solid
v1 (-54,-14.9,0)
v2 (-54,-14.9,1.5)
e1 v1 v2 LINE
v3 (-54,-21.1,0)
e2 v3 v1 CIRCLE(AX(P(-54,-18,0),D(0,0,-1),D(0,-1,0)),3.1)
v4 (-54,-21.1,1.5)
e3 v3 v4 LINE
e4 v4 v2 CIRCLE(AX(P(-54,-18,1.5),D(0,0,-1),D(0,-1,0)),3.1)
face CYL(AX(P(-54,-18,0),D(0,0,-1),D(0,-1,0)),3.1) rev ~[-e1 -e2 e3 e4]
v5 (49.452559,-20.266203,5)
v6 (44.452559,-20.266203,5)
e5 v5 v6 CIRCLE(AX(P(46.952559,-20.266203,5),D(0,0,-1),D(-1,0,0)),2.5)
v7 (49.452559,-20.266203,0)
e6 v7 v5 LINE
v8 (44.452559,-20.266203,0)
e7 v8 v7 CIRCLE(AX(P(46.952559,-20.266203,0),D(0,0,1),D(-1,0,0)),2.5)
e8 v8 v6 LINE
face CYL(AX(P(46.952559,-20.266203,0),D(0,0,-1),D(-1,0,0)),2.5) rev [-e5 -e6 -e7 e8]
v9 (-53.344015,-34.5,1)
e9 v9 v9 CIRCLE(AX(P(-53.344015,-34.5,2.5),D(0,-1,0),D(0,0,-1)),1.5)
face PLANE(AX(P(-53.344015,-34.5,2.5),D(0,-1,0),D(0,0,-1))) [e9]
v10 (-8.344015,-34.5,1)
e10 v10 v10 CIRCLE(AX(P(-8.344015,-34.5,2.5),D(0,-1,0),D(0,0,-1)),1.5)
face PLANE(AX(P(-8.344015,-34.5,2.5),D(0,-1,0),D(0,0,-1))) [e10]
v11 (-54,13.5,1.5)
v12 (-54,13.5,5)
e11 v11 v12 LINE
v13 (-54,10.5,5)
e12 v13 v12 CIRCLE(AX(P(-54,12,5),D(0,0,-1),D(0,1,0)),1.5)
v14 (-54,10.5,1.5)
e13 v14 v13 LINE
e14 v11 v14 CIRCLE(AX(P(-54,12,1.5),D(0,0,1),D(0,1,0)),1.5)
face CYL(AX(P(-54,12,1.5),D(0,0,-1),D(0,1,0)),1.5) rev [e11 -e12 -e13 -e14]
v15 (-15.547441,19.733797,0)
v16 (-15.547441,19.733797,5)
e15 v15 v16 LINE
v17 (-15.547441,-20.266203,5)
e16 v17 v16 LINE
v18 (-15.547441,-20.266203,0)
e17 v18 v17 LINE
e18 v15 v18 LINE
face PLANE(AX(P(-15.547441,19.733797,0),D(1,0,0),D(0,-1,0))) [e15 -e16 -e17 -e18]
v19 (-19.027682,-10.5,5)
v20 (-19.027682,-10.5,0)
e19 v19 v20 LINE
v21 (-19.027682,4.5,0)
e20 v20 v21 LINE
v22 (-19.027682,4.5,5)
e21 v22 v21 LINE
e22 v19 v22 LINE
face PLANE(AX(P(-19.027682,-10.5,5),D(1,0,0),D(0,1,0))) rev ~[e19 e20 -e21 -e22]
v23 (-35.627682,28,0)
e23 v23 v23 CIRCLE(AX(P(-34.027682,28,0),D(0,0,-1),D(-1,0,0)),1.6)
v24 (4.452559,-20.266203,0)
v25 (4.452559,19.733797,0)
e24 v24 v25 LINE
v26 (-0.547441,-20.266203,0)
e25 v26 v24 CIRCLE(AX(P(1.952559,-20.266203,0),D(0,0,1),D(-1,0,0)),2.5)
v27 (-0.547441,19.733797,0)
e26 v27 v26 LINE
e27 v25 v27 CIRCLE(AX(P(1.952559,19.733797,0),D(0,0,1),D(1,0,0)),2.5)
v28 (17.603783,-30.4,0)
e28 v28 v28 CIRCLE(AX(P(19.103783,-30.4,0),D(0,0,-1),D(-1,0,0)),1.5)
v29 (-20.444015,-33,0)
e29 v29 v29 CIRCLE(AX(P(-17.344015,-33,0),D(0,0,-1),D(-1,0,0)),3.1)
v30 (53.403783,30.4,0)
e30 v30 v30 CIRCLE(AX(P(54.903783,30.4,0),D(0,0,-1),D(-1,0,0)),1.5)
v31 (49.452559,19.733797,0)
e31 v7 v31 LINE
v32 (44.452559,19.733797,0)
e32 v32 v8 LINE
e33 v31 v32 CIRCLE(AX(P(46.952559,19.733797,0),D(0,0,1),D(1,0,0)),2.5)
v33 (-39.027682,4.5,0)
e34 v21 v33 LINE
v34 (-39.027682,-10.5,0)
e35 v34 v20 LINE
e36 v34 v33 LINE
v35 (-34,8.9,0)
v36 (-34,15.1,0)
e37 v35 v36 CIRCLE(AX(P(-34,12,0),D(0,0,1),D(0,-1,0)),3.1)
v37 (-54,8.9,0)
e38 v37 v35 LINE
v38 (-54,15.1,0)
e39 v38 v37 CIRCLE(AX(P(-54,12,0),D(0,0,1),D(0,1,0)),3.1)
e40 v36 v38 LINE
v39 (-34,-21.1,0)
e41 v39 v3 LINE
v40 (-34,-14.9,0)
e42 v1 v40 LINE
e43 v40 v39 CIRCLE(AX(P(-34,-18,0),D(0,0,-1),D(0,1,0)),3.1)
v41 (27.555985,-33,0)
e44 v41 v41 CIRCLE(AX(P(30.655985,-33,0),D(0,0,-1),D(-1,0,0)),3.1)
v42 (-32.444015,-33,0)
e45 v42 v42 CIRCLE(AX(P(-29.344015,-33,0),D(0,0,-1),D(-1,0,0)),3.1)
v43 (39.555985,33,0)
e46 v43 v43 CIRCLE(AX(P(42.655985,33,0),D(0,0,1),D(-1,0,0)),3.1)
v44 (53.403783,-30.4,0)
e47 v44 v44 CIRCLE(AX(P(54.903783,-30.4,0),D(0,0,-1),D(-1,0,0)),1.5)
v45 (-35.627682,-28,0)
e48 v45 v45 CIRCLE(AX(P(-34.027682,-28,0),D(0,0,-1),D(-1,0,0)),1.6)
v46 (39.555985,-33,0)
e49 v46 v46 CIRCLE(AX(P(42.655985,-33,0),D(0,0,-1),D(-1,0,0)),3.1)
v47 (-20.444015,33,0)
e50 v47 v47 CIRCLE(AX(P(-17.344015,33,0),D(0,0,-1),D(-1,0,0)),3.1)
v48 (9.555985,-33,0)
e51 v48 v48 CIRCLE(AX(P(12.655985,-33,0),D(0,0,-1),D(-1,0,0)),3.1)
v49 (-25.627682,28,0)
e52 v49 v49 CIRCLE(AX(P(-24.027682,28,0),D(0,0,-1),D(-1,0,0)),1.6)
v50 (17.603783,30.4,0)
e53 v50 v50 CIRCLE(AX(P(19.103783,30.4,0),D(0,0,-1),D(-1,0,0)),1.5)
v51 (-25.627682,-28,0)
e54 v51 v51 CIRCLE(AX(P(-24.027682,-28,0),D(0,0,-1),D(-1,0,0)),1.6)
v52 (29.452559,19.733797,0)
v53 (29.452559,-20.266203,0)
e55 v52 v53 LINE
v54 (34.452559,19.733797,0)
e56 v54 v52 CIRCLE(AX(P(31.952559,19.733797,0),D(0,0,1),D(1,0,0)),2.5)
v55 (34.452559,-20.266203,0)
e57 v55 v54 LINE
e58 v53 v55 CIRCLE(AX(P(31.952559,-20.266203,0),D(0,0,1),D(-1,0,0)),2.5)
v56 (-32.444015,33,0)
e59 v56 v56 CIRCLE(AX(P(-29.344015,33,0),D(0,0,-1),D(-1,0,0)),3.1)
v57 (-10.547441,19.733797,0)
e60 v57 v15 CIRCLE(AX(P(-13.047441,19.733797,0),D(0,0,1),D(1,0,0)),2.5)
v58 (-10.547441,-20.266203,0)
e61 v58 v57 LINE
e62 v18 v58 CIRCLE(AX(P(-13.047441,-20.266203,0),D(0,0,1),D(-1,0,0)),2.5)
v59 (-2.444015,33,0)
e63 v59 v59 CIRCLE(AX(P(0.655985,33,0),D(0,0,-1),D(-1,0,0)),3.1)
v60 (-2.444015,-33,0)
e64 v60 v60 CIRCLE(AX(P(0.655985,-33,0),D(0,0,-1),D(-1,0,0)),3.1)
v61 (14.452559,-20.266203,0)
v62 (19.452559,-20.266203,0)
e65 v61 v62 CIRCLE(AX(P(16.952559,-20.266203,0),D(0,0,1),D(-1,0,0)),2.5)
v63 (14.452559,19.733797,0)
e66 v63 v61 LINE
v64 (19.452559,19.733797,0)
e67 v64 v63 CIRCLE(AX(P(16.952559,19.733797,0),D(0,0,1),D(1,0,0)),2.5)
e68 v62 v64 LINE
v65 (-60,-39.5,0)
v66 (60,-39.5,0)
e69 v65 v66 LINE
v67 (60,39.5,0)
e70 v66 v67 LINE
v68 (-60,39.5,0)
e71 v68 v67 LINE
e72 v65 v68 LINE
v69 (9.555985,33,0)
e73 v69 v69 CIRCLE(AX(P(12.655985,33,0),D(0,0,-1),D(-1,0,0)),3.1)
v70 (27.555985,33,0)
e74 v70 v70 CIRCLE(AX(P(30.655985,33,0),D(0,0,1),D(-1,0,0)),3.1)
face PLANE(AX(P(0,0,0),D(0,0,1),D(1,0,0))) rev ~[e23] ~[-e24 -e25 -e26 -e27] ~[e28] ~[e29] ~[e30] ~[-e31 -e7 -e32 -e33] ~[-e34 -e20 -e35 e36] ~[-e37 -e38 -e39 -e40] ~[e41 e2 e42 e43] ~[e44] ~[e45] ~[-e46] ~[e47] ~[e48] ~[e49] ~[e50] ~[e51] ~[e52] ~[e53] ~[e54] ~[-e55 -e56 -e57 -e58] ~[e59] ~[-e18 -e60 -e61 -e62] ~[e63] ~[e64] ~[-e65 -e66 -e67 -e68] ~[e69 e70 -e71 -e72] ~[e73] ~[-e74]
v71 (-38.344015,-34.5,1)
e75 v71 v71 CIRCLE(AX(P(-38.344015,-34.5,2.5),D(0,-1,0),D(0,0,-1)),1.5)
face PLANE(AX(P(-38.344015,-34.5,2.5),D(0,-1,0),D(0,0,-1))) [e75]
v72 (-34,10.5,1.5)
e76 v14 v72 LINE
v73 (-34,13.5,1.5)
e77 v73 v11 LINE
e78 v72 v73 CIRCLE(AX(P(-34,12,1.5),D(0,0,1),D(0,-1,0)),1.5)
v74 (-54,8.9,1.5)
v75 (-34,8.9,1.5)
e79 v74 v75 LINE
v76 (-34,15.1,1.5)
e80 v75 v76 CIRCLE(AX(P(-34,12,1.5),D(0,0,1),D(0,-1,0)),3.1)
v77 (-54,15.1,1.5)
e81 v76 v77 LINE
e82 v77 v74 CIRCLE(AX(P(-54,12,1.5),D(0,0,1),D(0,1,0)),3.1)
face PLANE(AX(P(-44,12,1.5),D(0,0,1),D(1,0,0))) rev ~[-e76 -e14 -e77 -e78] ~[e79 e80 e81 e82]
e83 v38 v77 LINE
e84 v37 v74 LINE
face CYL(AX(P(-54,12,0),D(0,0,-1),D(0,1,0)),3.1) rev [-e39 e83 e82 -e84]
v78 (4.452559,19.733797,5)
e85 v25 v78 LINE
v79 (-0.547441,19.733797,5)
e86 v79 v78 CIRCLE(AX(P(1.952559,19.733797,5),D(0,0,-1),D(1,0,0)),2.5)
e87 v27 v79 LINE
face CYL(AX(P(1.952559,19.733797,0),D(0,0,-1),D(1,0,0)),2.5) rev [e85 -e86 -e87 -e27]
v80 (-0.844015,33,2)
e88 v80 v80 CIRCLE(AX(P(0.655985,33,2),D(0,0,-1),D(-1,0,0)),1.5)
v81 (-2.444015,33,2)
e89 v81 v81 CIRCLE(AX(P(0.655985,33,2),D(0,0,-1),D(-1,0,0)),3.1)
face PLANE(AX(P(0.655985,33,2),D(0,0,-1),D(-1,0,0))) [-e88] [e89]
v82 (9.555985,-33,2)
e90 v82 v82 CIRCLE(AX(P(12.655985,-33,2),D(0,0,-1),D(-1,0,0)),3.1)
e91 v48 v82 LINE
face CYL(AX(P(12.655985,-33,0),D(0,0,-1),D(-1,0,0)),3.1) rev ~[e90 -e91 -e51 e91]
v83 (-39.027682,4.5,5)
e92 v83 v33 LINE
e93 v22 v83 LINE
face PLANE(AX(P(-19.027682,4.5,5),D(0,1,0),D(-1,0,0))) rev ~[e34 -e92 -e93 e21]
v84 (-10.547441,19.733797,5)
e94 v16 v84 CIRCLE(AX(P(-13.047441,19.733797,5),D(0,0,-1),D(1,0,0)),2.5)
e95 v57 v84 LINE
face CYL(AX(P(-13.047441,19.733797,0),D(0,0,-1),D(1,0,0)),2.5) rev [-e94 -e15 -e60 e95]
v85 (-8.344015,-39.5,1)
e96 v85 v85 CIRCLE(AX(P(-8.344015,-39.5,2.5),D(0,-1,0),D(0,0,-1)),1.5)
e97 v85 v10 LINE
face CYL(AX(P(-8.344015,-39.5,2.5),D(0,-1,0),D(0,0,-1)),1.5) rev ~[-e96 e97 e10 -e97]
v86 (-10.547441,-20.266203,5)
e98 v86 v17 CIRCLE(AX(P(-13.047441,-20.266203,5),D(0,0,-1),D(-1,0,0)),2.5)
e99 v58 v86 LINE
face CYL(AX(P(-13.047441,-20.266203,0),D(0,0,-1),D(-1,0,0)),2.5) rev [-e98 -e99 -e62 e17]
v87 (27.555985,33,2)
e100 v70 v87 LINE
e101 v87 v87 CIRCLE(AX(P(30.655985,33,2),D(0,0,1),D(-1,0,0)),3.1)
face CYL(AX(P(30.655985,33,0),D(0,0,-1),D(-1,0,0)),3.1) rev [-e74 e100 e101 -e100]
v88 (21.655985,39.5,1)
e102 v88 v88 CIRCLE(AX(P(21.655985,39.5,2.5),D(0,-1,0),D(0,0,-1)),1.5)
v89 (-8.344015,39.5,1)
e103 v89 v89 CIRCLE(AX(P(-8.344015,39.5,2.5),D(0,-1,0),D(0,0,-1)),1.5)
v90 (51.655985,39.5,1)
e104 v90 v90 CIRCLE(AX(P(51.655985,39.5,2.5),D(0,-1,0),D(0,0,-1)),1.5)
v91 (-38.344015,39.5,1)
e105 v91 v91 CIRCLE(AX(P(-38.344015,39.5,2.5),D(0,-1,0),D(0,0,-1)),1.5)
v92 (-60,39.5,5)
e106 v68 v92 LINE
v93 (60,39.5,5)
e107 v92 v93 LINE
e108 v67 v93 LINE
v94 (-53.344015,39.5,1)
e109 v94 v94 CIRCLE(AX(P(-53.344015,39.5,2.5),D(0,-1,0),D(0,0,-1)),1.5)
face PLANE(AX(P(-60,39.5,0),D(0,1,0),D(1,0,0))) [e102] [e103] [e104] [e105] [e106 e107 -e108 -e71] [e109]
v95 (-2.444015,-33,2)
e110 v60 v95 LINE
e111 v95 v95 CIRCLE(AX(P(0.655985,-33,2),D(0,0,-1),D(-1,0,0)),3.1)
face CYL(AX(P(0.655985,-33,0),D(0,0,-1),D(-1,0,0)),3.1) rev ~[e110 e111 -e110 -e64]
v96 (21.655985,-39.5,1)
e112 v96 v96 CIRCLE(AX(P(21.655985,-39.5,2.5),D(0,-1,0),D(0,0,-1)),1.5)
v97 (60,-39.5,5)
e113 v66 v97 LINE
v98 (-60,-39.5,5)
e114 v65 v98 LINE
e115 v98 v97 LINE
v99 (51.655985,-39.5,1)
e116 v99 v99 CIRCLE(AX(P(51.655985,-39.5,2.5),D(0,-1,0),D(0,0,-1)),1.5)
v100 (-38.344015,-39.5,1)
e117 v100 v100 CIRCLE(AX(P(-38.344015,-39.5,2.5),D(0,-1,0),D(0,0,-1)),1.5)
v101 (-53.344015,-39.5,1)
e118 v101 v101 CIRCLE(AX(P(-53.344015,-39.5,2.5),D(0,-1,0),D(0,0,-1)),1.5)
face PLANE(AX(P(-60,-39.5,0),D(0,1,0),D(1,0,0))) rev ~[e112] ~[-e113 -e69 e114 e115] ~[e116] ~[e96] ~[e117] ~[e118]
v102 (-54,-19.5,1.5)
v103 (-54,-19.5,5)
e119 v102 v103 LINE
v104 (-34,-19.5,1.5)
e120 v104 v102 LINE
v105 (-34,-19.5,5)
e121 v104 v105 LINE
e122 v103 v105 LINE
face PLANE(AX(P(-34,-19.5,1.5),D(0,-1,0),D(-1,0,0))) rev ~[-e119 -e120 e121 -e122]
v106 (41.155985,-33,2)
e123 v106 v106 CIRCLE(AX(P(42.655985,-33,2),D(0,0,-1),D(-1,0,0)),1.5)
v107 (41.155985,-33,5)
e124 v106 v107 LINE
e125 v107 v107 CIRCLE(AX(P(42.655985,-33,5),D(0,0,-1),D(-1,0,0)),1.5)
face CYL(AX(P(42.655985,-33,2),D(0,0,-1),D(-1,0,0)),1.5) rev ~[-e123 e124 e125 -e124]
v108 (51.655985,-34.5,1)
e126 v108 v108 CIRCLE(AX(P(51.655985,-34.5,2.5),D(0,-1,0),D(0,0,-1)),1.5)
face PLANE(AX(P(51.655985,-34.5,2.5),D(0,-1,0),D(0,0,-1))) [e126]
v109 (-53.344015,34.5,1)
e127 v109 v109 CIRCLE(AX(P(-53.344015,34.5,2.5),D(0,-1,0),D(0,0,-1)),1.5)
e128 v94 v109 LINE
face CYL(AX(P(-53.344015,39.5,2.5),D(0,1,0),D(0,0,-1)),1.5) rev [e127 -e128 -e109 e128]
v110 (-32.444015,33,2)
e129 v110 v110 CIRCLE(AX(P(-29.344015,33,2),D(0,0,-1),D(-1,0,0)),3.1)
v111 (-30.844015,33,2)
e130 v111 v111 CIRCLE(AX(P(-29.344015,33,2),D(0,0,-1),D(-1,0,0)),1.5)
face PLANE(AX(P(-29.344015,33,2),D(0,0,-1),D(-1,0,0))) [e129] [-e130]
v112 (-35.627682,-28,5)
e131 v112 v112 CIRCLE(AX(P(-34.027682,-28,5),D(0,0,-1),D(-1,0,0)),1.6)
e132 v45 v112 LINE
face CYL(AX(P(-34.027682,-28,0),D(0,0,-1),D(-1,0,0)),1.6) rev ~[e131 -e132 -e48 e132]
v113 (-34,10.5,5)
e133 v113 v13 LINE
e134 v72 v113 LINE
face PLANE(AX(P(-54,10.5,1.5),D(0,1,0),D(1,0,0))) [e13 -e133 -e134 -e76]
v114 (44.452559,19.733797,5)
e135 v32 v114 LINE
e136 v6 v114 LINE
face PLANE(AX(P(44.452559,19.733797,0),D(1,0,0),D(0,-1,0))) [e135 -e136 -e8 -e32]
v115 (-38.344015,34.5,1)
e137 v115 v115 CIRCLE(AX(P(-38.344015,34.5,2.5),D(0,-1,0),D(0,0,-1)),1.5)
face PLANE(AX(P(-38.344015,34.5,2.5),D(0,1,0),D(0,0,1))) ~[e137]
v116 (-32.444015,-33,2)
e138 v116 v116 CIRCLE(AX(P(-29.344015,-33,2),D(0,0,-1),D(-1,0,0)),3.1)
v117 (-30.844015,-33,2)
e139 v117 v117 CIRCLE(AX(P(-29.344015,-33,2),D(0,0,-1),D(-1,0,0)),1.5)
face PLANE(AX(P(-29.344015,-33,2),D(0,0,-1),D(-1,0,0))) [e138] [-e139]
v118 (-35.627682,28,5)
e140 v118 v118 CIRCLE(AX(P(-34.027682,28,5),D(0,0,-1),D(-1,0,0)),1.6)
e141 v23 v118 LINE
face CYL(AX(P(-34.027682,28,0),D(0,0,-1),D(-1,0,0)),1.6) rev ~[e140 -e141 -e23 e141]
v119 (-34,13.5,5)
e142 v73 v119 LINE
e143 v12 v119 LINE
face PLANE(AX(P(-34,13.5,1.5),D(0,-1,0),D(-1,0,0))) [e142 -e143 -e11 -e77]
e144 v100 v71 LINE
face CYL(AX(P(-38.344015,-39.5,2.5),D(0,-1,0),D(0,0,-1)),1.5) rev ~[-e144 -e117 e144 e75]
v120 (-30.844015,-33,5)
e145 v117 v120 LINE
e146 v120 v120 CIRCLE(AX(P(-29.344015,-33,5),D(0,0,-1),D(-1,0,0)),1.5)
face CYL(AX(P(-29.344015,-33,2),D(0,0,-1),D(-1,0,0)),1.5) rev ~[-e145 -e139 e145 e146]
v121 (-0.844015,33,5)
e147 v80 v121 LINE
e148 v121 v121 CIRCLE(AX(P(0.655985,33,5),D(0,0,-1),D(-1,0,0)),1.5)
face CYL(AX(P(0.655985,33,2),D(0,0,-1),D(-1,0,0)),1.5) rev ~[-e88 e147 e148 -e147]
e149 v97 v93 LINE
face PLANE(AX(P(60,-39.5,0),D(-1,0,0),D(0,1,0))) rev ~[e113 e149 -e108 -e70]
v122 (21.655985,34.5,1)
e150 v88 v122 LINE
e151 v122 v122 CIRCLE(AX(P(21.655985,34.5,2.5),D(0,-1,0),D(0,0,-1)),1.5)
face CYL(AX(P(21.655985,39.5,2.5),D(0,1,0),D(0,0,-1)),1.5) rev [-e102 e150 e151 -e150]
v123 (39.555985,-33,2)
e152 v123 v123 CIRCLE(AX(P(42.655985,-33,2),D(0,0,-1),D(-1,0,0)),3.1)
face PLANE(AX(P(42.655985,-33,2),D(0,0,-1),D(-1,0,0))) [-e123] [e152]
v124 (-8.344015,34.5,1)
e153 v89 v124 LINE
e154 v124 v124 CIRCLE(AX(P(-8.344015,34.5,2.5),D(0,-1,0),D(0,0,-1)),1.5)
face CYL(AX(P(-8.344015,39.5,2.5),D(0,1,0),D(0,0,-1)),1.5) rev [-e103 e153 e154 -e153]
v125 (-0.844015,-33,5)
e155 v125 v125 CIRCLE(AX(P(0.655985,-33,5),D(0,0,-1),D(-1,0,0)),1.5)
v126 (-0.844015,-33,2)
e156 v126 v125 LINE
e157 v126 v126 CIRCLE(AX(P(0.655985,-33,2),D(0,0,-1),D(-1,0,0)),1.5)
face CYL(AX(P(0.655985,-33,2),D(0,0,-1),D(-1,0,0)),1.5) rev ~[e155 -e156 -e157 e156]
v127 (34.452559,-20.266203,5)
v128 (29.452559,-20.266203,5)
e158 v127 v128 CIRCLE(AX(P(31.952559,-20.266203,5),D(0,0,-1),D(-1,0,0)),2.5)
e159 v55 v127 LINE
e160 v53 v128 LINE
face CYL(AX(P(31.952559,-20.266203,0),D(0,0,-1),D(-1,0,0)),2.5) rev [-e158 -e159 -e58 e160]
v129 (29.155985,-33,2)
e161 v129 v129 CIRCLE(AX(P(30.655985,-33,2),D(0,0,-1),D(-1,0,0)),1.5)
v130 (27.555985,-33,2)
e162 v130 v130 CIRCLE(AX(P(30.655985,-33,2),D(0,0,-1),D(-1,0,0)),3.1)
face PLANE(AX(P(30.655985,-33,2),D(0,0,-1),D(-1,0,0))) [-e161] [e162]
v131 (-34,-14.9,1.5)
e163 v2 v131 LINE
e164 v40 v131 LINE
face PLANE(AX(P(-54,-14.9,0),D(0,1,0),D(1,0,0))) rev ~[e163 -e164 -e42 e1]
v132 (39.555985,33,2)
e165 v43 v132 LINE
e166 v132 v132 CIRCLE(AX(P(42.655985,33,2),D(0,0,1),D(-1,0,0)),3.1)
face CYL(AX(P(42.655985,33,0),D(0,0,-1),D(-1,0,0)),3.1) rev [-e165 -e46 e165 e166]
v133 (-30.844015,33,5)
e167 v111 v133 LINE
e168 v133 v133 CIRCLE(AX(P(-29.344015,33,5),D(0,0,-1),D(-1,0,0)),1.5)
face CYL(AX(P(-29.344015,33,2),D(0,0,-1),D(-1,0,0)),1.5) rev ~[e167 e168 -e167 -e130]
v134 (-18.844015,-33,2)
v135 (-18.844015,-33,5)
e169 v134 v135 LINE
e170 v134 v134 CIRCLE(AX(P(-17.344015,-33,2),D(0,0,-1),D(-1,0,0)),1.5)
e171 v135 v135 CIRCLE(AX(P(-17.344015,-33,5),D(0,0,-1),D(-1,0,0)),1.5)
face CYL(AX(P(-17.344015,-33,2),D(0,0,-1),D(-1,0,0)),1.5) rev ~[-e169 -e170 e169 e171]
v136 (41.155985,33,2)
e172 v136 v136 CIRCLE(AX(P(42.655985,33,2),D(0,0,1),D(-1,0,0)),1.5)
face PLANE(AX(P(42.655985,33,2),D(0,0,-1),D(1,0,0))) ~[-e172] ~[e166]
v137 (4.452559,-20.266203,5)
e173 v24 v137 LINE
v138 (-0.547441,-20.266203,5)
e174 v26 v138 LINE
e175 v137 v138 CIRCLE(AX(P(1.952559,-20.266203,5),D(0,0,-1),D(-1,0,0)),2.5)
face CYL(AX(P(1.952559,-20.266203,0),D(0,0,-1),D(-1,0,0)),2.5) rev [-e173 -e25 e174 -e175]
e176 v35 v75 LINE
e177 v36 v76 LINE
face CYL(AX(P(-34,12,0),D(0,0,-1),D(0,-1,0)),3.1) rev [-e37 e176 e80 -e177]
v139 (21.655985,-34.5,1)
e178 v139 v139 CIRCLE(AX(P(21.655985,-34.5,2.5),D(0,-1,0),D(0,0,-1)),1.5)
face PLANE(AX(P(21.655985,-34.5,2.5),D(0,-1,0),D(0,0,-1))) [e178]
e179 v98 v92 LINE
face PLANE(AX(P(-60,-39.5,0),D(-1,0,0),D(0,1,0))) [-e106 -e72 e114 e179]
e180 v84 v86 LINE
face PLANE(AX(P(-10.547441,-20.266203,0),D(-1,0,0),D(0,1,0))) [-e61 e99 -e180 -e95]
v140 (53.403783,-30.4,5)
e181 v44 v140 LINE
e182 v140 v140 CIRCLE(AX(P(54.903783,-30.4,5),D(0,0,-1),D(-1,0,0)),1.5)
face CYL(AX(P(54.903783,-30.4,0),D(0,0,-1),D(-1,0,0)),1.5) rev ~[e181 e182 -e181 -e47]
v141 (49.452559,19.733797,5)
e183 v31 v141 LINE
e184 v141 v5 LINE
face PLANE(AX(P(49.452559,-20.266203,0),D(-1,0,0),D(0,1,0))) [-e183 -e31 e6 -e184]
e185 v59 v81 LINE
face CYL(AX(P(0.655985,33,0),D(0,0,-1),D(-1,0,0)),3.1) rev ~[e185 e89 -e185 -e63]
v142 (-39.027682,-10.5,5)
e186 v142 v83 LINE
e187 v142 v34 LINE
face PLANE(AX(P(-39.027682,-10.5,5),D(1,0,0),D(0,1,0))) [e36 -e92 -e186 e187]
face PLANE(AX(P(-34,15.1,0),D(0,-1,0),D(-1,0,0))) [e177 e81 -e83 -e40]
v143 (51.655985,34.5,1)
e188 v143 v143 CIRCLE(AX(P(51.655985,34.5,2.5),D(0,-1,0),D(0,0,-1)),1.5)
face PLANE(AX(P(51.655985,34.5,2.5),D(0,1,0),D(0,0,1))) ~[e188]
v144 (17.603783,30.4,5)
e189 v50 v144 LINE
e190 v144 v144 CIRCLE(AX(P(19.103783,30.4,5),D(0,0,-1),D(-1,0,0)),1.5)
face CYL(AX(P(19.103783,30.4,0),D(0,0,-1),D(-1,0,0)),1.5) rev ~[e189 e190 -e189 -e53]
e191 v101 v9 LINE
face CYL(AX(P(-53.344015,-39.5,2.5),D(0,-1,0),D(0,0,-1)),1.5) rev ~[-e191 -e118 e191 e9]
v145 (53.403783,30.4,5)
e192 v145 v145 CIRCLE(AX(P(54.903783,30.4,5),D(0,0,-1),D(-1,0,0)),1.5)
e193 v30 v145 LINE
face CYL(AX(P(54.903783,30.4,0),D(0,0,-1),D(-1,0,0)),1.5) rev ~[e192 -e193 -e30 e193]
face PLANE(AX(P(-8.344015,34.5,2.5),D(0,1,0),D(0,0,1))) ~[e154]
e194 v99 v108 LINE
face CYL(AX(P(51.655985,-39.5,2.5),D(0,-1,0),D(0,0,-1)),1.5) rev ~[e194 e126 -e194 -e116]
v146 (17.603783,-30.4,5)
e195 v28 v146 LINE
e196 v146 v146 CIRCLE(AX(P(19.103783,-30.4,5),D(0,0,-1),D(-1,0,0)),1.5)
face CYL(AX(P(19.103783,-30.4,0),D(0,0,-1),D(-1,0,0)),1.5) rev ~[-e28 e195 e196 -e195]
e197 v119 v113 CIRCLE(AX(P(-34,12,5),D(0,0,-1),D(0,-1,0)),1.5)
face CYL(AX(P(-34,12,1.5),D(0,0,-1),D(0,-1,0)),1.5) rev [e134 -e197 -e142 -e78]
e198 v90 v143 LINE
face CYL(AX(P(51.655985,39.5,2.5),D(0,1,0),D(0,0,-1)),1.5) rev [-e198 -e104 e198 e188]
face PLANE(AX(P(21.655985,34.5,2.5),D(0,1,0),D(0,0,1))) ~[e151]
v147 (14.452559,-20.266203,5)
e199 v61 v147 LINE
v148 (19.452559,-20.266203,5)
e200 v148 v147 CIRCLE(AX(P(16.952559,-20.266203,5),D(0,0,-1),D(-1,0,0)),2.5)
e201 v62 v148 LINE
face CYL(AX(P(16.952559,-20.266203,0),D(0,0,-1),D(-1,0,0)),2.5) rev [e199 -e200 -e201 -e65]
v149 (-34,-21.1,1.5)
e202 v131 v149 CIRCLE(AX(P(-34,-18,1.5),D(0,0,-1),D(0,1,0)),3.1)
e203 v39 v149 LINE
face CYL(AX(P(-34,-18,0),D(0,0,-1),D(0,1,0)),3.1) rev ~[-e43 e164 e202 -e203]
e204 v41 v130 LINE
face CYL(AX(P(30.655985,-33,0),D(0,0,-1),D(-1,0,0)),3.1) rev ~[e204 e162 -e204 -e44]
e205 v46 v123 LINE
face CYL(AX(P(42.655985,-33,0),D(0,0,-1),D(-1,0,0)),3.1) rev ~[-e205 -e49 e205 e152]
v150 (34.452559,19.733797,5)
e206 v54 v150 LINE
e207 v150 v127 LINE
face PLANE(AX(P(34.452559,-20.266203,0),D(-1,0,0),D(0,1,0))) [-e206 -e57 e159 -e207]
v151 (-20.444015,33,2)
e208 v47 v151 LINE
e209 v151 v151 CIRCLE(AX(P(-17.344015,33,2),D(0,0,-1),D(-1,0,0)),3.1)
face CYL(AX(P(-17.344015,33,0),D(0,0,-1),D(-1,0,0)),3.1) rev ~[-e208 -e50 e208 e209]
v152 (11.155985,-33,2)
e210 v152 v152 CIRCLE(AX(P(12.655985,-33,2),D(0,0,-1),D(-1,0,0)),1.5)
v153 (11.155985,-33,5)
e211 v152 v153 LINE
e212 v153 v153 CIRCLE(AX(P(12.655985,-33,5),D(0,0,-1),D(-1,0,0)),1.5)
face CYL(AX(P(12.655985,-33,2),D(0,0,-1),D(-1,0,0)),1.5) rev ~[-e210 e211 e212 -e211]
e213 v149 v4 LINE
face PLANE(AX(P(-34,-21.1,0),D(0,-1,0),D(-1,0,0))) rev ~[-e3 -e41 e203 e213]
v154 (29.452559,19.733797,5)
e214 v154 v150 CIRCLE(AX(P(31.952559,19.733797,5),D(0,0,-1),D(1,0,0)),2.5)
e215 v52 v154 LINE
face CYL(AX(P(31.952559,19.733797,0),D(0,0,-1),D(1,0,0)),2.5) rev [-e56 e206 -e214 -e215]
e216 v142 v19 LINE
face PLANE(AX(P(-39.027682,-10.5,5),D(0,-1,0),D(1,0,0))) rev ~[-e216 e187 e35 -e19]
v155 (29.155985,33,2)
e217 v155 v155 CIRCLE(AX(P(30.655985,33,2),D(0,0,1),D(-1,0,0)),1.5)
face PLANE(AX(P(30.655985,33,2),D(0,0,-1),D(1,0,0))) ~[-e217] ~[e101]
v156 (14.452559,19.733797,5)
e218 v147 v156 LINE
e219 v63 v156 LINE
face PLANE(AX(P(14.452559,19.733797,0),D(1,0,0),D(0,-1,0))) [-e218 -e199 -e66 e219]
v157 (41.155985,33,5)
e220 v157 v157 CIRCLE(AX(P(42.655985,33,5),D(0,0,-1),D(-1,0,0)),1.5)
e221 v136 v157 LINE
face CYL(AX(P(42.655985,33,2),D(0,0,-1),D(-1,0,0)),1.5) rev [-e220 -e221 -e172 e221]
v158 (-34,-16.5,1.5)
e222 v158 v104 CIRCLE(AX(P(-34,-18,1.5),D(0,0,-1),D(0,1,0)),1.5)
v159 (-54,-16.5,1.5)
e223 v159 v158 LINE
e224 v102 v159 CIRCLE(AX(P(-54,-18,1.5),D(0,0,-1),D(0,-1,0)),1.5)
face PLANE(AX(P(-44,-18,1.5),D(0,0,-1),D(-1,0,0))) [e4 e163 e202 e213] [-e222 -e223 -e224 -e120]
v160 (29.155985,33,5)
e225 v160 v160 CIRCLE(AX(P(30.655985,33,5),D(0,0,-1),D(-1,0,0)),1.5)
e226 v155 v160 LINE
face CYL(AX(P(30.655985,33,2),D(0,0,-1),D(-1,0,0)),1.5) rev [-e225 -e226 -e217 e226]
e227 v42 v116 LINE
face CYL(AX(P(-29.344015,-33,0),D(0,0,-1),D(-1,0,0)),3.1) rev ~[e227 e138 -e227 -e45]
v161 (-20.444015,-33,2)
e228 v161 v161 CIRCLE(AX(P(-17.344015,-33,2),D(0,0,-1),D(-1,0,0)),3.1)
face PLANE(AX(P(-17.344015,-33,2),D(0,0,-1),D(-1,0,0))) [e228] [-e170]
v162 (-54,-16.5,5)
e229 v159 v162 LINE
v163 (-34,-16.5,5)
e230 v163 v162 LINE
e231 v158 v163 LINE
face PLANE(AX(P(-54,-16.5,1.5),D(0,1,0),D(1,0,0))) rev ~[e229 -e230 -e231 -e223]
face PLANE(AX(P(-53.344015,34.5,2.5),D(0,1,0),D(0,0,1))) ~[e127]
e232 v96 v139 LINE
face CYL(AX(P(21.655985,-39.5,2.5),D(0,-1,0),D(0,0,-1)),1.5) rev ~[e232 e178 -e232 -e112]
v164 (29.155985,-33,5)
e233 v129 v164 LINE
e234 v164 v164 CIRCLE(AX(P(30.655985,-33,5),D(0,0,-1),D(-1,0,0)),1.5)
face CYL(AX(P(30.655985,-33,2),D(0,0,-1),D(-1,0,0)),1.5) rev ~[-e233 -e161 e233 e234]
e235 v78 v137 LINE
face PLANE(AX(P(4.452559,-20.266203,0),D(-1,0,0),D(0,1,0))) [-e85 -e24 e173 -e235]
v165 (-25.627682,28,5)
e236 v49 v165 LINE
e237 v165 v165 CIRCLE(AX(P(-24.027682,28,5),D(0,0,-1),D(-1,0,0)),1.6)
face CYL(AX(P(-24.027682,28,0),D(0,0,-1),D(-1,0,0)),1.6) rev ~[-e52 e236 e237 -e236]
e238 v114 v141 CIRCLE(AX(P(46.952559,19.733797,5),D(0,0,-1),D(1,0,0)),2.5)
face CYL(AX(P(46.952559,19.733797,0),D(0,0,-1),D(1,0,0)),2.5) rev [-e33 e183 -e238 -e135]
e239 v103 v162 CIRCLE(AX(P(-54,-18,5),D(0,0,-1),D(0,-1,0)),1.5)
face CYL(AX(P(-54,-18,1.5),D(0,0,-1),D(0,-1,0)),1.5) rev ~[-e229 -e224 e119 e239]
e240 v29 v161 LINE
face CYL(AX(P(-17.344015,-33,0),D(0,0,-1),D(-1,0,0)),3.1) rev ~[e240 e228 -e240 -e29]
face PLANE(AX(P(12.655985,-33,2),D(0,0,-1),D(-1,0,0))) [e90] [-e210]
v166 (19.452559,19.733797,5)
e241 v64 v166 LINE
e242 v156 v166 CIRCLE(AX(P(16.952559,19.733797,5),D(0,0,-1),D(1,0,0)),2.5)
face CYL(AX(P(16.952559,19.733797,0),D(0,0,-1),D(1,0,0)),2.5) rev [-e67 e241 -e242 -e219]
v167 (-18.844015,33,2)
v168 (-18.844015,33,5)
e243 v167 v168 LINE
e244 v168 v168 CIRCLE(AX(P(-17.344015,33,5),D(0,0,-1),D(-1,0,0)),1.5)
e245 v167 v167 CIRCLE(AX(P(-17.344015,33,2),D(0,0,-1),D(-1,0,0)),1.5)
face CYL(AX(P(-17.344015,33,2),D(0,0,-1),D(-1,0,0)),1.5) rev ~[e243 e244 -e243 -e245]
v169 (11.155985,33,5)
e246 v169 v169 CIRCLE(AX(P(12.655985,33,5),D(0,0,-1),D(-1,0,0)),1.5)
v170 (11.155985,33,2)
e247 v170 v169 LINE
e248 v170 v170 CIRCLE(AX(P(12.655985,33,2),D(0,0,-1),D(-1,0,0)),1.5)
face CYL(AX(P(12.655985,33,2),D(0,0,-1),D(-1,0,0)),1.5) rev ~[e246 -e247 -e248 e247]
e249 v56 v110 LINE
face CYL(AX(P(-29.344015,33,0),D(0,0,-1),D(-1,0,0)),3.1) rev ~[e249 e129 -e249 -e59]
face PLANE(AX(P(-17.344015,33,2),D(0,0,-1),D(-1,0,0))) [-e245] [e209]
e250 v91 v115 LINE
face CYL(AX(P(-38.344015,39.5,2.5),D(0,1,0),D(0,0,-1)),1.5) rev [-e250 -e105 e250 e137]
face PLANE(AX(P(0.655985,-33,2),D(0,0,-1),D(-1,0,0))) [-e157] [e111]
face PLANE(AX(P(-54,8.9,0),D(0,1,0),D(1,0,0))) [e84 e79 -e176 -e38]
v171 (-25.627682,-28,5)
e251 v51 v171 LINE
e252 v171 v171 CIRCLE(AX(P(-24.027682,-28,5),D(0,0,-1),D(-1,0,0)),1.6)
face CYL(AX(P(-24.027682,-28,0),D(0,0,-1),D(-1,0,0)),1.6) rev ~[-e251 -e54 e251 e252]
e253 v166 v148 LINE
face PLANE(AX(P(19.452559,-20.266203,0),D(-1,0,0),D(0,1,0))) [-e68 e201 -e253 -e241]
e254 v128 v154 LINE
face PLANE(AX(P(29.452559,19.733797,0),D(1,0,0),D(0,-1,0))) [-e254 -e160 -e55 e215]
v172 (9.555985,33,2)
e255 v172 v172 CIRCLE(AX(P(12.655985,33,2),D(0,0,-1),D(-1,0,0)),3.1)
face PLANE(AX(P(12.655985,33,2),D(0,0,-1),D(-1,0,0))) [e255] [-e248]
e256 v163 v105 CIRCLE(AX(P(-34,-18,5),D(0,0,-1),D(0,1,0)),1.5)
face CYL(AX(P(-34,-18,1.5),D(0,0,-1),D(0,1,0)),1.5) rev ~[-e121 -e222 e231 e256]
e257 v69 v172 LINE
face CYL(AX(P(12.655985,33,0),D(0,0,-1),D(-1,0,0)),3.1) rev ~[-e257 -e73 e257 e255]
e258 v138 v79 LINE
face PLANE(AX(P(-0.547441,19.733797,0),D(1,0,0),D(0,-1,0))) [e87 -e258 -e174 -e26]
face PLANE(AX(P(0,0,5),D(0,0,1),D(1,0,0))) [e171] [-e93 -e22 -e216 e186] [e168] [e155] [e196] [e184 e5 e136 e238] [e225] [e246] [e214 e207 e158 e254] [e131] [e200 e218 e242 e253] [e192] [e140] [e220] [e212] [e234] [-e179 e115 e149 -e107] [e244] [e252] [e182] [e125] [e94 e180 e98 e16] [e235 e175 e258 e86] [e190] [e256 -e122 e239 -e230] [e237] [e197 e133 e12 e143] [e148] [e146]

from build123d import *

# Parameters (mm, degrees)
SKETCH_1_W               = 120
SKETCH_1_H               = 79
EXTRUDE_1_DEPTH          = 5
SKETCH_2_R               = 3.1
CUT_EXTRUDE_1_DEPTH      = 2
SKETCH_3_R               = 1.5
CUT_EXTRUDE_2_DEPTH      = 72.897496479
PATTERN_LINEAR_1_COUNT   = 3
PATTERN_LINEAR_1_PITCH   = 30
MIRROR_2_COPY_1_SKETCH_R = 3.1
MIRROR_2_COPY_1_DEPTH    = 2
MIRROR_2_COPY_2_SKETCH_R = 3.1
MIRROR_2_COPY_2_DEPTH    = 2
MIRROR_2_COPY_3_SKETCH_R = 1.5
MIRROR_2_COPY_3_DEPTH    = 72.897496479
MIRROR_2_COPY_4_SKETCH_R = 1.5
MIRROR_2_COPY_4_DEPTH    = 72.897496479
CUT_EXTRUDE_3_DEPTH      = 1.5
CUT_EXTRUDE_4_DEPTH      = 72.920094549
SKETCH_7_R               = 1.5
CUT_EXTRUDE_6_DEPTH      = 5
SKETCH_9_R               = 1.6
SKETCH_9_R_2             = 1.5
CUT_EXTRUDE_7_DEPTH      = 73.008680032
SKETCH_11_W              = 10
SKETCH_11_H              = 15
CUT_EXTRUDE_8_DEPTH      = 73.008680032


with BuildPart() as part:
    # 草图1 → 凸台-拉伸1 (new body)
    with BuildSketch(Plane.XY):
        Rectangle(SKETCH_1_W, SKETCH_1_H)
    extrude(amount=EXTRUDE_1_DEPTH)

    # 草图2 → 切除-拉伸1 (cut)
    with BuildSketch(Plane(origin=(0, 0, 0), x_dir=(-1, 0, 0), z_dir=(0, 0, -1))):
        with Locations((-42.655984764, -33)):
            Circle(SKETCH_2_R)
        with Locations((-30.655984764, -33)):
            Circle(SKETCH_2_R)
    cut_extrude_1 = extrude(amount=-CUT_EXTRUDE_1_DEPTH, mode=Mode.SUBTRACT)

    # 草图3 → 切除-拉伸2 (cut, through all)
    with BuildSketch(Plane(origin=(0, 0, 2), x_dir=(-1, 0, 0), z_dir=(0, 0, -1))):
        with Locations((-42.655984764, -33)):
            Circle(SKETCH_3_R)
        with Locations((-30.655984764, -33)):
            Circle(SKETCH_3_R)
    cut_extrude_2 = extrude(amount=-CUT_EXTRUDE_2_DEPTH, mode=Mode.SUBTRACT)

    # 阵列(线性)1: 切除-拉伸1, 切除-拉伸2 ×3
    with Locations(*[(-i * PATTERN_LINEAR_1_PITCH, 0, 0) for i in range(1, PATTERN_LINEAR_1_COUNT)]):
        add(cut_extrude_1, mode=Mode.SUBTRACT)
        add(cut_extrude_2, mode=Mode.SUBTRACT)

    # 镜向2: 切除-拉伸1, 切除-拉伸2 across plane
    add(cut_extrude_1.mirror(Plane.ZX), mode=Mode.SUBTRACT)
    add(cut_extrude_2.mirror(Plane.ZX), mode=Mode.SUBTRACT)

    # 镜向2 copy 1 sketch → 镜向2 copy 1 (cut)
    with BuildSketch(Plane(origin=(-30, 0, 0), x_dir=(-1, 0, 0), z_dir=(0, 0, -1))):
        with Locations((-42.655984764, 33)):
            Circle(MIRROR_2_COPY_1_SKETCH_R)
        with Locations((-30.655984764, 33)):
            Circle(MIRROR_2_COPY_1_SKETCH_R)
    extrude(amount=-MIRROR_2_COPY_1_DEPTH, mode=Mode.SUBTRACT)

    # 镜向2 copy 2 sketch → 镜向2 copy 2 (cut)
    with BuildSketch(Plane(origin=(-60, 0, 0), x_dir=(-1, 0, 0), z_dir=(0, 0, -1))):
        with Locations((-42.655984764, 33)):
            Circle(MIRROR_2_COPY_2_SKETCH_R)
        with Locations((-30.655984764, 33)):
            Circle(MIRROR_2_COPY_2_SKETCH_R)
    extrude(amount=-MIRROR_2_COPY_2_DEPTH, mode=Mode.SUBTRACT)

    # 镜向2 copy 3 sketch → 镜向2 copy 3 (cut, through all)
    with BuildSketch(Plane(origin=(-30, 0, 2), x_dir=(-1, 0, 0), z_dir=(0, 0, -1))):
        with Locations((-42.655984764, 33)):
            Circle(MIRROR_2_COPY_3_SKETCH_R)
        with Locations((-30.655984764, 33)):
            Circle(MIRROR_2_COPY_3_SKETCH_R)
    extrude(amount=-MIRROR_2_COPY_3_DEPTH, mode=Mode.SUBTRACT)

    # 镜向2 copy 4 sketch → 镜向2 copy 4 (cut, through all)
    with BuildSketch(Plane(origin=(-60, 0, 2), x_dir=(-1, 0, 0), z_dir=(0, 0, -1))):
        with Locations((-42.655984764, 33)):
            Circle(MIRROR_2_COPY_4_SKETCH_R)
        with Locations((-30.655984764, 33)):
            Circle(MIRROR_2_COPY_4_SKETCH_R)
    extrude(amount=-MIRROR_2_COPY_4_DEPTH, mode=Mode.SUBTRACT)

    # 草图4 → 切除-拉伸3 (cut)
    with BuildSketch(Plane(origin=(0, 0, 0), x_dir=(-1, 0, 0), z_dir=(0, 0, -1))):
        with BuildLine():
            Line((34, 15.1), (54, 15.1))
            ThreePointArc((54, 15.1), (57.1, 12), (54, 8.9))
            Line((54, 8.9), (34, 8.9))
            ThreePointArc((34, 8.9), (30.9, 12), (34, 15.1))
        make_face()
        with BuildLine():
            Line((34, -21.1), (54, -21.1))
            ThreePointArc((54, -21.1), (57.1, -18), (54, -14.9))
            Line((54, -14.9), (34, -14.9))
            ThreePointArc((34, -14.9), (30.9, -18), (34, -21.1))
        make_face()
    extrude(amount=-CUT_EXTRUDE_3_DEPTH, mode=Mode.SUBTRACT)

    # 草图5 → 切除-拉伸4 (cut, through all)
    with BuildSketch(Plane(origin=(0, 0, 1.5), x_dir=(-1, 0, 0), z_dir=(0, 0, -1))):
        with BuildLine():
            Line((54, 10.5), (34, 10.5))
            ThreePointArc((34, 10.5), (32.5, 12), (34, 13.5))
            Line((34, 13.5), (54, 13.5))
            ThreePointArc((54, 13.5), (55.5, 12), (54, 10.5))
        make_face()
        with BuildLine():
            Line((54, -16.5), (34, -16.5))
            ThreePointArc((34, -16.5), (32.5, -18), (34, -19.5))
            Line((34, -19.5), (54, -19.5))
            ThreePointArc((54, -19.5), (55.5, -18), (54, -16.5))
        make_face()
    extrude(amount=-CUT_EXTRUDE_4_DEPTH, mode=Mode.SUBTRACT)

    # 草图7 → 切除-拉伸6 (cut)
    with BuildSketch(Plane.XZ.offset(39.5)):
        with Locations(Location((51.655984764, 2.5, 0), (0, 0, 270))):
            Circle(SKETCH_7_R)
        with Locations(Location((21.655984764, 2.5, 0), (0, 0, 270))):
            Circle(SKETCH_7_R)
        with Locations(Location((-8.344015236, 2.5, 0), (0, 0, 270))):
            Circle(SKETCH_7_R)
        with Locations(Location((-38.344015236, 2.5, 0), (0, 0, 270))):
            Circle(SKETCH_7_R)
        with Locations(Location((-53.344015236, 2.5, 0), (0, 0, 270))):
            Circle(SKETCH_7_R)
    cut_extrude_6 = extrude(amount=-CUT_EXTRUDE_6_DEPTH, mode=Mode.SUBTRACT)

    # 镜向3: 切除-拉伸6 across plane
    add(cut_extrude_6.mirror(Plane.ZX), mode=Mode.SUBTRACT)

    # 草图9 → 切除-拉伸7 (cut, through all)
    with BuildSketch(Plane(origin=(0, 0, 0), x_dir=(-1, 0, 0), z_dir=(0, 0, -1))):
        with Locations((24.027682272, -28)):
            Circle(SKETCH_9_R)
        with Locations((34.027682272, -28)):
            Circle(SKETCH_9_R)
        with Locations((24.027682272, 28)):
            Circle(SKETCH_9_R)
        with Locations((34.027682272, 28)):
            Circle(SKETCH_9_R)
        with Locations((-19.103783252, 30.4)):
            Circle(SKETCH_9_R_2)
        with Locations((-54.903783252, 30.4)):
            Circle(SKETCH_9_R_2)
        with Locations((-19.103783252, -30.4)):
            Circle(SKETCH_9_R_2)
        with Locations((-54.903783252, -30.4)):
            Circle(SKETCH_9_R_2)
        with BuildLine():
            Line((-49.452559424, -20.266203112), (-49.452559424, 19.733796888))
            ThreePointArc((-49.452559424, 19.733796888), (-46.952559424, 22.233796888), (-44.452559424, 19.733796888))
            Line((-44.452559424, 19.733796888), (-44.452559424, -20.266203112))
            ThreePointArc((-44.452559424, -20.266203112), (-46.952559424, -22.766203112), (-49.452559424, -20.266203112))
        make_face()
        with BuildLine():
            Line((-34.452559424, -20.266203112), (-34.452559424, 19.733796888))
            ThreePointArc((-34.452559424, 19.733796888), (-31.952559424, 22.233796888), (-29.452559424, 19.733796888))
            Line((-29.452559424, 19.733796888), (-29.452559424, -20.266203112))
            ThreePointArc((-29.452559424, -20.266203112), (-31.952559424, -22.766203112), (-34.452559424, -20.266203112))
        make_face()
        with BuildLine():
            Line((-19.452559424, -20.266203112), (-19.452559424, 19.733796888))
            ThreePointArc((-19.452559424, 19.733796888), (-16.952559424, 22.233796888), (-14.452559424, 19.733796888))
            Line((-14.452559424, 19.733796888), (-14.452559424, -20.266203112))
            ThreePointArc((-14.452559424, -20.266203112), (-16.952559424, -22.766203112), (-19.452559424, -20.266203112))
        make_face()
        with BuildLine():
            Line((-4.452559424, -20.266203112), (-4.452559424, 19.733796888))
            ThreePointArc((-4.452559424, 19.733796888), (-1.952559424, 22.233796888), (0.547440576, 19.733796888))
            Line((0.547440576, 19.733796888), (0.547440576, -20.266203112))
            ThreePointArc((0.547440576, -20.266203112), (-1.952559424, -22.766203112), (-4.452559424, -20.266203112))
        make_face()
        with BuildLine():
            Line((10.547440576, -20.266203112), (10.547440576, 19.733796888))
            ThreePointArc((10.547440576, 19.733796888), (13.047440576, 22.233796888), (15.547440576, 19.733796888))
            Line((15.547440576, 19.733796888), (15.547440576, -20.266203112))
            ThreePointArc((15.547440576, -20.266203112), (13.047440576, -22.766203112), (10.547440576, -20.266203112))
        make_face()
    extrude(amount=-CUT_EXTRUDE_7_DEPTH, mode=Mode.SUBTRACT)

    # 草图11 → 切除-拉伸8 (cut, through all)
    with BuildSketch(Plane.XY.offset(5)):
        with Locations((-24.027682272, -3)):
            Rectangle(SKETCH_11_W, SKETCH_11_H)
        with Locations((-34.027682272, -3)):
            Rectangle(SKETCH_11_W, SKETCH_11_H)
    extrude(amount=-CUT_EXTRUDE_8_DEPTH, mode=Mode.SUBTRACT)


solid = part.part
